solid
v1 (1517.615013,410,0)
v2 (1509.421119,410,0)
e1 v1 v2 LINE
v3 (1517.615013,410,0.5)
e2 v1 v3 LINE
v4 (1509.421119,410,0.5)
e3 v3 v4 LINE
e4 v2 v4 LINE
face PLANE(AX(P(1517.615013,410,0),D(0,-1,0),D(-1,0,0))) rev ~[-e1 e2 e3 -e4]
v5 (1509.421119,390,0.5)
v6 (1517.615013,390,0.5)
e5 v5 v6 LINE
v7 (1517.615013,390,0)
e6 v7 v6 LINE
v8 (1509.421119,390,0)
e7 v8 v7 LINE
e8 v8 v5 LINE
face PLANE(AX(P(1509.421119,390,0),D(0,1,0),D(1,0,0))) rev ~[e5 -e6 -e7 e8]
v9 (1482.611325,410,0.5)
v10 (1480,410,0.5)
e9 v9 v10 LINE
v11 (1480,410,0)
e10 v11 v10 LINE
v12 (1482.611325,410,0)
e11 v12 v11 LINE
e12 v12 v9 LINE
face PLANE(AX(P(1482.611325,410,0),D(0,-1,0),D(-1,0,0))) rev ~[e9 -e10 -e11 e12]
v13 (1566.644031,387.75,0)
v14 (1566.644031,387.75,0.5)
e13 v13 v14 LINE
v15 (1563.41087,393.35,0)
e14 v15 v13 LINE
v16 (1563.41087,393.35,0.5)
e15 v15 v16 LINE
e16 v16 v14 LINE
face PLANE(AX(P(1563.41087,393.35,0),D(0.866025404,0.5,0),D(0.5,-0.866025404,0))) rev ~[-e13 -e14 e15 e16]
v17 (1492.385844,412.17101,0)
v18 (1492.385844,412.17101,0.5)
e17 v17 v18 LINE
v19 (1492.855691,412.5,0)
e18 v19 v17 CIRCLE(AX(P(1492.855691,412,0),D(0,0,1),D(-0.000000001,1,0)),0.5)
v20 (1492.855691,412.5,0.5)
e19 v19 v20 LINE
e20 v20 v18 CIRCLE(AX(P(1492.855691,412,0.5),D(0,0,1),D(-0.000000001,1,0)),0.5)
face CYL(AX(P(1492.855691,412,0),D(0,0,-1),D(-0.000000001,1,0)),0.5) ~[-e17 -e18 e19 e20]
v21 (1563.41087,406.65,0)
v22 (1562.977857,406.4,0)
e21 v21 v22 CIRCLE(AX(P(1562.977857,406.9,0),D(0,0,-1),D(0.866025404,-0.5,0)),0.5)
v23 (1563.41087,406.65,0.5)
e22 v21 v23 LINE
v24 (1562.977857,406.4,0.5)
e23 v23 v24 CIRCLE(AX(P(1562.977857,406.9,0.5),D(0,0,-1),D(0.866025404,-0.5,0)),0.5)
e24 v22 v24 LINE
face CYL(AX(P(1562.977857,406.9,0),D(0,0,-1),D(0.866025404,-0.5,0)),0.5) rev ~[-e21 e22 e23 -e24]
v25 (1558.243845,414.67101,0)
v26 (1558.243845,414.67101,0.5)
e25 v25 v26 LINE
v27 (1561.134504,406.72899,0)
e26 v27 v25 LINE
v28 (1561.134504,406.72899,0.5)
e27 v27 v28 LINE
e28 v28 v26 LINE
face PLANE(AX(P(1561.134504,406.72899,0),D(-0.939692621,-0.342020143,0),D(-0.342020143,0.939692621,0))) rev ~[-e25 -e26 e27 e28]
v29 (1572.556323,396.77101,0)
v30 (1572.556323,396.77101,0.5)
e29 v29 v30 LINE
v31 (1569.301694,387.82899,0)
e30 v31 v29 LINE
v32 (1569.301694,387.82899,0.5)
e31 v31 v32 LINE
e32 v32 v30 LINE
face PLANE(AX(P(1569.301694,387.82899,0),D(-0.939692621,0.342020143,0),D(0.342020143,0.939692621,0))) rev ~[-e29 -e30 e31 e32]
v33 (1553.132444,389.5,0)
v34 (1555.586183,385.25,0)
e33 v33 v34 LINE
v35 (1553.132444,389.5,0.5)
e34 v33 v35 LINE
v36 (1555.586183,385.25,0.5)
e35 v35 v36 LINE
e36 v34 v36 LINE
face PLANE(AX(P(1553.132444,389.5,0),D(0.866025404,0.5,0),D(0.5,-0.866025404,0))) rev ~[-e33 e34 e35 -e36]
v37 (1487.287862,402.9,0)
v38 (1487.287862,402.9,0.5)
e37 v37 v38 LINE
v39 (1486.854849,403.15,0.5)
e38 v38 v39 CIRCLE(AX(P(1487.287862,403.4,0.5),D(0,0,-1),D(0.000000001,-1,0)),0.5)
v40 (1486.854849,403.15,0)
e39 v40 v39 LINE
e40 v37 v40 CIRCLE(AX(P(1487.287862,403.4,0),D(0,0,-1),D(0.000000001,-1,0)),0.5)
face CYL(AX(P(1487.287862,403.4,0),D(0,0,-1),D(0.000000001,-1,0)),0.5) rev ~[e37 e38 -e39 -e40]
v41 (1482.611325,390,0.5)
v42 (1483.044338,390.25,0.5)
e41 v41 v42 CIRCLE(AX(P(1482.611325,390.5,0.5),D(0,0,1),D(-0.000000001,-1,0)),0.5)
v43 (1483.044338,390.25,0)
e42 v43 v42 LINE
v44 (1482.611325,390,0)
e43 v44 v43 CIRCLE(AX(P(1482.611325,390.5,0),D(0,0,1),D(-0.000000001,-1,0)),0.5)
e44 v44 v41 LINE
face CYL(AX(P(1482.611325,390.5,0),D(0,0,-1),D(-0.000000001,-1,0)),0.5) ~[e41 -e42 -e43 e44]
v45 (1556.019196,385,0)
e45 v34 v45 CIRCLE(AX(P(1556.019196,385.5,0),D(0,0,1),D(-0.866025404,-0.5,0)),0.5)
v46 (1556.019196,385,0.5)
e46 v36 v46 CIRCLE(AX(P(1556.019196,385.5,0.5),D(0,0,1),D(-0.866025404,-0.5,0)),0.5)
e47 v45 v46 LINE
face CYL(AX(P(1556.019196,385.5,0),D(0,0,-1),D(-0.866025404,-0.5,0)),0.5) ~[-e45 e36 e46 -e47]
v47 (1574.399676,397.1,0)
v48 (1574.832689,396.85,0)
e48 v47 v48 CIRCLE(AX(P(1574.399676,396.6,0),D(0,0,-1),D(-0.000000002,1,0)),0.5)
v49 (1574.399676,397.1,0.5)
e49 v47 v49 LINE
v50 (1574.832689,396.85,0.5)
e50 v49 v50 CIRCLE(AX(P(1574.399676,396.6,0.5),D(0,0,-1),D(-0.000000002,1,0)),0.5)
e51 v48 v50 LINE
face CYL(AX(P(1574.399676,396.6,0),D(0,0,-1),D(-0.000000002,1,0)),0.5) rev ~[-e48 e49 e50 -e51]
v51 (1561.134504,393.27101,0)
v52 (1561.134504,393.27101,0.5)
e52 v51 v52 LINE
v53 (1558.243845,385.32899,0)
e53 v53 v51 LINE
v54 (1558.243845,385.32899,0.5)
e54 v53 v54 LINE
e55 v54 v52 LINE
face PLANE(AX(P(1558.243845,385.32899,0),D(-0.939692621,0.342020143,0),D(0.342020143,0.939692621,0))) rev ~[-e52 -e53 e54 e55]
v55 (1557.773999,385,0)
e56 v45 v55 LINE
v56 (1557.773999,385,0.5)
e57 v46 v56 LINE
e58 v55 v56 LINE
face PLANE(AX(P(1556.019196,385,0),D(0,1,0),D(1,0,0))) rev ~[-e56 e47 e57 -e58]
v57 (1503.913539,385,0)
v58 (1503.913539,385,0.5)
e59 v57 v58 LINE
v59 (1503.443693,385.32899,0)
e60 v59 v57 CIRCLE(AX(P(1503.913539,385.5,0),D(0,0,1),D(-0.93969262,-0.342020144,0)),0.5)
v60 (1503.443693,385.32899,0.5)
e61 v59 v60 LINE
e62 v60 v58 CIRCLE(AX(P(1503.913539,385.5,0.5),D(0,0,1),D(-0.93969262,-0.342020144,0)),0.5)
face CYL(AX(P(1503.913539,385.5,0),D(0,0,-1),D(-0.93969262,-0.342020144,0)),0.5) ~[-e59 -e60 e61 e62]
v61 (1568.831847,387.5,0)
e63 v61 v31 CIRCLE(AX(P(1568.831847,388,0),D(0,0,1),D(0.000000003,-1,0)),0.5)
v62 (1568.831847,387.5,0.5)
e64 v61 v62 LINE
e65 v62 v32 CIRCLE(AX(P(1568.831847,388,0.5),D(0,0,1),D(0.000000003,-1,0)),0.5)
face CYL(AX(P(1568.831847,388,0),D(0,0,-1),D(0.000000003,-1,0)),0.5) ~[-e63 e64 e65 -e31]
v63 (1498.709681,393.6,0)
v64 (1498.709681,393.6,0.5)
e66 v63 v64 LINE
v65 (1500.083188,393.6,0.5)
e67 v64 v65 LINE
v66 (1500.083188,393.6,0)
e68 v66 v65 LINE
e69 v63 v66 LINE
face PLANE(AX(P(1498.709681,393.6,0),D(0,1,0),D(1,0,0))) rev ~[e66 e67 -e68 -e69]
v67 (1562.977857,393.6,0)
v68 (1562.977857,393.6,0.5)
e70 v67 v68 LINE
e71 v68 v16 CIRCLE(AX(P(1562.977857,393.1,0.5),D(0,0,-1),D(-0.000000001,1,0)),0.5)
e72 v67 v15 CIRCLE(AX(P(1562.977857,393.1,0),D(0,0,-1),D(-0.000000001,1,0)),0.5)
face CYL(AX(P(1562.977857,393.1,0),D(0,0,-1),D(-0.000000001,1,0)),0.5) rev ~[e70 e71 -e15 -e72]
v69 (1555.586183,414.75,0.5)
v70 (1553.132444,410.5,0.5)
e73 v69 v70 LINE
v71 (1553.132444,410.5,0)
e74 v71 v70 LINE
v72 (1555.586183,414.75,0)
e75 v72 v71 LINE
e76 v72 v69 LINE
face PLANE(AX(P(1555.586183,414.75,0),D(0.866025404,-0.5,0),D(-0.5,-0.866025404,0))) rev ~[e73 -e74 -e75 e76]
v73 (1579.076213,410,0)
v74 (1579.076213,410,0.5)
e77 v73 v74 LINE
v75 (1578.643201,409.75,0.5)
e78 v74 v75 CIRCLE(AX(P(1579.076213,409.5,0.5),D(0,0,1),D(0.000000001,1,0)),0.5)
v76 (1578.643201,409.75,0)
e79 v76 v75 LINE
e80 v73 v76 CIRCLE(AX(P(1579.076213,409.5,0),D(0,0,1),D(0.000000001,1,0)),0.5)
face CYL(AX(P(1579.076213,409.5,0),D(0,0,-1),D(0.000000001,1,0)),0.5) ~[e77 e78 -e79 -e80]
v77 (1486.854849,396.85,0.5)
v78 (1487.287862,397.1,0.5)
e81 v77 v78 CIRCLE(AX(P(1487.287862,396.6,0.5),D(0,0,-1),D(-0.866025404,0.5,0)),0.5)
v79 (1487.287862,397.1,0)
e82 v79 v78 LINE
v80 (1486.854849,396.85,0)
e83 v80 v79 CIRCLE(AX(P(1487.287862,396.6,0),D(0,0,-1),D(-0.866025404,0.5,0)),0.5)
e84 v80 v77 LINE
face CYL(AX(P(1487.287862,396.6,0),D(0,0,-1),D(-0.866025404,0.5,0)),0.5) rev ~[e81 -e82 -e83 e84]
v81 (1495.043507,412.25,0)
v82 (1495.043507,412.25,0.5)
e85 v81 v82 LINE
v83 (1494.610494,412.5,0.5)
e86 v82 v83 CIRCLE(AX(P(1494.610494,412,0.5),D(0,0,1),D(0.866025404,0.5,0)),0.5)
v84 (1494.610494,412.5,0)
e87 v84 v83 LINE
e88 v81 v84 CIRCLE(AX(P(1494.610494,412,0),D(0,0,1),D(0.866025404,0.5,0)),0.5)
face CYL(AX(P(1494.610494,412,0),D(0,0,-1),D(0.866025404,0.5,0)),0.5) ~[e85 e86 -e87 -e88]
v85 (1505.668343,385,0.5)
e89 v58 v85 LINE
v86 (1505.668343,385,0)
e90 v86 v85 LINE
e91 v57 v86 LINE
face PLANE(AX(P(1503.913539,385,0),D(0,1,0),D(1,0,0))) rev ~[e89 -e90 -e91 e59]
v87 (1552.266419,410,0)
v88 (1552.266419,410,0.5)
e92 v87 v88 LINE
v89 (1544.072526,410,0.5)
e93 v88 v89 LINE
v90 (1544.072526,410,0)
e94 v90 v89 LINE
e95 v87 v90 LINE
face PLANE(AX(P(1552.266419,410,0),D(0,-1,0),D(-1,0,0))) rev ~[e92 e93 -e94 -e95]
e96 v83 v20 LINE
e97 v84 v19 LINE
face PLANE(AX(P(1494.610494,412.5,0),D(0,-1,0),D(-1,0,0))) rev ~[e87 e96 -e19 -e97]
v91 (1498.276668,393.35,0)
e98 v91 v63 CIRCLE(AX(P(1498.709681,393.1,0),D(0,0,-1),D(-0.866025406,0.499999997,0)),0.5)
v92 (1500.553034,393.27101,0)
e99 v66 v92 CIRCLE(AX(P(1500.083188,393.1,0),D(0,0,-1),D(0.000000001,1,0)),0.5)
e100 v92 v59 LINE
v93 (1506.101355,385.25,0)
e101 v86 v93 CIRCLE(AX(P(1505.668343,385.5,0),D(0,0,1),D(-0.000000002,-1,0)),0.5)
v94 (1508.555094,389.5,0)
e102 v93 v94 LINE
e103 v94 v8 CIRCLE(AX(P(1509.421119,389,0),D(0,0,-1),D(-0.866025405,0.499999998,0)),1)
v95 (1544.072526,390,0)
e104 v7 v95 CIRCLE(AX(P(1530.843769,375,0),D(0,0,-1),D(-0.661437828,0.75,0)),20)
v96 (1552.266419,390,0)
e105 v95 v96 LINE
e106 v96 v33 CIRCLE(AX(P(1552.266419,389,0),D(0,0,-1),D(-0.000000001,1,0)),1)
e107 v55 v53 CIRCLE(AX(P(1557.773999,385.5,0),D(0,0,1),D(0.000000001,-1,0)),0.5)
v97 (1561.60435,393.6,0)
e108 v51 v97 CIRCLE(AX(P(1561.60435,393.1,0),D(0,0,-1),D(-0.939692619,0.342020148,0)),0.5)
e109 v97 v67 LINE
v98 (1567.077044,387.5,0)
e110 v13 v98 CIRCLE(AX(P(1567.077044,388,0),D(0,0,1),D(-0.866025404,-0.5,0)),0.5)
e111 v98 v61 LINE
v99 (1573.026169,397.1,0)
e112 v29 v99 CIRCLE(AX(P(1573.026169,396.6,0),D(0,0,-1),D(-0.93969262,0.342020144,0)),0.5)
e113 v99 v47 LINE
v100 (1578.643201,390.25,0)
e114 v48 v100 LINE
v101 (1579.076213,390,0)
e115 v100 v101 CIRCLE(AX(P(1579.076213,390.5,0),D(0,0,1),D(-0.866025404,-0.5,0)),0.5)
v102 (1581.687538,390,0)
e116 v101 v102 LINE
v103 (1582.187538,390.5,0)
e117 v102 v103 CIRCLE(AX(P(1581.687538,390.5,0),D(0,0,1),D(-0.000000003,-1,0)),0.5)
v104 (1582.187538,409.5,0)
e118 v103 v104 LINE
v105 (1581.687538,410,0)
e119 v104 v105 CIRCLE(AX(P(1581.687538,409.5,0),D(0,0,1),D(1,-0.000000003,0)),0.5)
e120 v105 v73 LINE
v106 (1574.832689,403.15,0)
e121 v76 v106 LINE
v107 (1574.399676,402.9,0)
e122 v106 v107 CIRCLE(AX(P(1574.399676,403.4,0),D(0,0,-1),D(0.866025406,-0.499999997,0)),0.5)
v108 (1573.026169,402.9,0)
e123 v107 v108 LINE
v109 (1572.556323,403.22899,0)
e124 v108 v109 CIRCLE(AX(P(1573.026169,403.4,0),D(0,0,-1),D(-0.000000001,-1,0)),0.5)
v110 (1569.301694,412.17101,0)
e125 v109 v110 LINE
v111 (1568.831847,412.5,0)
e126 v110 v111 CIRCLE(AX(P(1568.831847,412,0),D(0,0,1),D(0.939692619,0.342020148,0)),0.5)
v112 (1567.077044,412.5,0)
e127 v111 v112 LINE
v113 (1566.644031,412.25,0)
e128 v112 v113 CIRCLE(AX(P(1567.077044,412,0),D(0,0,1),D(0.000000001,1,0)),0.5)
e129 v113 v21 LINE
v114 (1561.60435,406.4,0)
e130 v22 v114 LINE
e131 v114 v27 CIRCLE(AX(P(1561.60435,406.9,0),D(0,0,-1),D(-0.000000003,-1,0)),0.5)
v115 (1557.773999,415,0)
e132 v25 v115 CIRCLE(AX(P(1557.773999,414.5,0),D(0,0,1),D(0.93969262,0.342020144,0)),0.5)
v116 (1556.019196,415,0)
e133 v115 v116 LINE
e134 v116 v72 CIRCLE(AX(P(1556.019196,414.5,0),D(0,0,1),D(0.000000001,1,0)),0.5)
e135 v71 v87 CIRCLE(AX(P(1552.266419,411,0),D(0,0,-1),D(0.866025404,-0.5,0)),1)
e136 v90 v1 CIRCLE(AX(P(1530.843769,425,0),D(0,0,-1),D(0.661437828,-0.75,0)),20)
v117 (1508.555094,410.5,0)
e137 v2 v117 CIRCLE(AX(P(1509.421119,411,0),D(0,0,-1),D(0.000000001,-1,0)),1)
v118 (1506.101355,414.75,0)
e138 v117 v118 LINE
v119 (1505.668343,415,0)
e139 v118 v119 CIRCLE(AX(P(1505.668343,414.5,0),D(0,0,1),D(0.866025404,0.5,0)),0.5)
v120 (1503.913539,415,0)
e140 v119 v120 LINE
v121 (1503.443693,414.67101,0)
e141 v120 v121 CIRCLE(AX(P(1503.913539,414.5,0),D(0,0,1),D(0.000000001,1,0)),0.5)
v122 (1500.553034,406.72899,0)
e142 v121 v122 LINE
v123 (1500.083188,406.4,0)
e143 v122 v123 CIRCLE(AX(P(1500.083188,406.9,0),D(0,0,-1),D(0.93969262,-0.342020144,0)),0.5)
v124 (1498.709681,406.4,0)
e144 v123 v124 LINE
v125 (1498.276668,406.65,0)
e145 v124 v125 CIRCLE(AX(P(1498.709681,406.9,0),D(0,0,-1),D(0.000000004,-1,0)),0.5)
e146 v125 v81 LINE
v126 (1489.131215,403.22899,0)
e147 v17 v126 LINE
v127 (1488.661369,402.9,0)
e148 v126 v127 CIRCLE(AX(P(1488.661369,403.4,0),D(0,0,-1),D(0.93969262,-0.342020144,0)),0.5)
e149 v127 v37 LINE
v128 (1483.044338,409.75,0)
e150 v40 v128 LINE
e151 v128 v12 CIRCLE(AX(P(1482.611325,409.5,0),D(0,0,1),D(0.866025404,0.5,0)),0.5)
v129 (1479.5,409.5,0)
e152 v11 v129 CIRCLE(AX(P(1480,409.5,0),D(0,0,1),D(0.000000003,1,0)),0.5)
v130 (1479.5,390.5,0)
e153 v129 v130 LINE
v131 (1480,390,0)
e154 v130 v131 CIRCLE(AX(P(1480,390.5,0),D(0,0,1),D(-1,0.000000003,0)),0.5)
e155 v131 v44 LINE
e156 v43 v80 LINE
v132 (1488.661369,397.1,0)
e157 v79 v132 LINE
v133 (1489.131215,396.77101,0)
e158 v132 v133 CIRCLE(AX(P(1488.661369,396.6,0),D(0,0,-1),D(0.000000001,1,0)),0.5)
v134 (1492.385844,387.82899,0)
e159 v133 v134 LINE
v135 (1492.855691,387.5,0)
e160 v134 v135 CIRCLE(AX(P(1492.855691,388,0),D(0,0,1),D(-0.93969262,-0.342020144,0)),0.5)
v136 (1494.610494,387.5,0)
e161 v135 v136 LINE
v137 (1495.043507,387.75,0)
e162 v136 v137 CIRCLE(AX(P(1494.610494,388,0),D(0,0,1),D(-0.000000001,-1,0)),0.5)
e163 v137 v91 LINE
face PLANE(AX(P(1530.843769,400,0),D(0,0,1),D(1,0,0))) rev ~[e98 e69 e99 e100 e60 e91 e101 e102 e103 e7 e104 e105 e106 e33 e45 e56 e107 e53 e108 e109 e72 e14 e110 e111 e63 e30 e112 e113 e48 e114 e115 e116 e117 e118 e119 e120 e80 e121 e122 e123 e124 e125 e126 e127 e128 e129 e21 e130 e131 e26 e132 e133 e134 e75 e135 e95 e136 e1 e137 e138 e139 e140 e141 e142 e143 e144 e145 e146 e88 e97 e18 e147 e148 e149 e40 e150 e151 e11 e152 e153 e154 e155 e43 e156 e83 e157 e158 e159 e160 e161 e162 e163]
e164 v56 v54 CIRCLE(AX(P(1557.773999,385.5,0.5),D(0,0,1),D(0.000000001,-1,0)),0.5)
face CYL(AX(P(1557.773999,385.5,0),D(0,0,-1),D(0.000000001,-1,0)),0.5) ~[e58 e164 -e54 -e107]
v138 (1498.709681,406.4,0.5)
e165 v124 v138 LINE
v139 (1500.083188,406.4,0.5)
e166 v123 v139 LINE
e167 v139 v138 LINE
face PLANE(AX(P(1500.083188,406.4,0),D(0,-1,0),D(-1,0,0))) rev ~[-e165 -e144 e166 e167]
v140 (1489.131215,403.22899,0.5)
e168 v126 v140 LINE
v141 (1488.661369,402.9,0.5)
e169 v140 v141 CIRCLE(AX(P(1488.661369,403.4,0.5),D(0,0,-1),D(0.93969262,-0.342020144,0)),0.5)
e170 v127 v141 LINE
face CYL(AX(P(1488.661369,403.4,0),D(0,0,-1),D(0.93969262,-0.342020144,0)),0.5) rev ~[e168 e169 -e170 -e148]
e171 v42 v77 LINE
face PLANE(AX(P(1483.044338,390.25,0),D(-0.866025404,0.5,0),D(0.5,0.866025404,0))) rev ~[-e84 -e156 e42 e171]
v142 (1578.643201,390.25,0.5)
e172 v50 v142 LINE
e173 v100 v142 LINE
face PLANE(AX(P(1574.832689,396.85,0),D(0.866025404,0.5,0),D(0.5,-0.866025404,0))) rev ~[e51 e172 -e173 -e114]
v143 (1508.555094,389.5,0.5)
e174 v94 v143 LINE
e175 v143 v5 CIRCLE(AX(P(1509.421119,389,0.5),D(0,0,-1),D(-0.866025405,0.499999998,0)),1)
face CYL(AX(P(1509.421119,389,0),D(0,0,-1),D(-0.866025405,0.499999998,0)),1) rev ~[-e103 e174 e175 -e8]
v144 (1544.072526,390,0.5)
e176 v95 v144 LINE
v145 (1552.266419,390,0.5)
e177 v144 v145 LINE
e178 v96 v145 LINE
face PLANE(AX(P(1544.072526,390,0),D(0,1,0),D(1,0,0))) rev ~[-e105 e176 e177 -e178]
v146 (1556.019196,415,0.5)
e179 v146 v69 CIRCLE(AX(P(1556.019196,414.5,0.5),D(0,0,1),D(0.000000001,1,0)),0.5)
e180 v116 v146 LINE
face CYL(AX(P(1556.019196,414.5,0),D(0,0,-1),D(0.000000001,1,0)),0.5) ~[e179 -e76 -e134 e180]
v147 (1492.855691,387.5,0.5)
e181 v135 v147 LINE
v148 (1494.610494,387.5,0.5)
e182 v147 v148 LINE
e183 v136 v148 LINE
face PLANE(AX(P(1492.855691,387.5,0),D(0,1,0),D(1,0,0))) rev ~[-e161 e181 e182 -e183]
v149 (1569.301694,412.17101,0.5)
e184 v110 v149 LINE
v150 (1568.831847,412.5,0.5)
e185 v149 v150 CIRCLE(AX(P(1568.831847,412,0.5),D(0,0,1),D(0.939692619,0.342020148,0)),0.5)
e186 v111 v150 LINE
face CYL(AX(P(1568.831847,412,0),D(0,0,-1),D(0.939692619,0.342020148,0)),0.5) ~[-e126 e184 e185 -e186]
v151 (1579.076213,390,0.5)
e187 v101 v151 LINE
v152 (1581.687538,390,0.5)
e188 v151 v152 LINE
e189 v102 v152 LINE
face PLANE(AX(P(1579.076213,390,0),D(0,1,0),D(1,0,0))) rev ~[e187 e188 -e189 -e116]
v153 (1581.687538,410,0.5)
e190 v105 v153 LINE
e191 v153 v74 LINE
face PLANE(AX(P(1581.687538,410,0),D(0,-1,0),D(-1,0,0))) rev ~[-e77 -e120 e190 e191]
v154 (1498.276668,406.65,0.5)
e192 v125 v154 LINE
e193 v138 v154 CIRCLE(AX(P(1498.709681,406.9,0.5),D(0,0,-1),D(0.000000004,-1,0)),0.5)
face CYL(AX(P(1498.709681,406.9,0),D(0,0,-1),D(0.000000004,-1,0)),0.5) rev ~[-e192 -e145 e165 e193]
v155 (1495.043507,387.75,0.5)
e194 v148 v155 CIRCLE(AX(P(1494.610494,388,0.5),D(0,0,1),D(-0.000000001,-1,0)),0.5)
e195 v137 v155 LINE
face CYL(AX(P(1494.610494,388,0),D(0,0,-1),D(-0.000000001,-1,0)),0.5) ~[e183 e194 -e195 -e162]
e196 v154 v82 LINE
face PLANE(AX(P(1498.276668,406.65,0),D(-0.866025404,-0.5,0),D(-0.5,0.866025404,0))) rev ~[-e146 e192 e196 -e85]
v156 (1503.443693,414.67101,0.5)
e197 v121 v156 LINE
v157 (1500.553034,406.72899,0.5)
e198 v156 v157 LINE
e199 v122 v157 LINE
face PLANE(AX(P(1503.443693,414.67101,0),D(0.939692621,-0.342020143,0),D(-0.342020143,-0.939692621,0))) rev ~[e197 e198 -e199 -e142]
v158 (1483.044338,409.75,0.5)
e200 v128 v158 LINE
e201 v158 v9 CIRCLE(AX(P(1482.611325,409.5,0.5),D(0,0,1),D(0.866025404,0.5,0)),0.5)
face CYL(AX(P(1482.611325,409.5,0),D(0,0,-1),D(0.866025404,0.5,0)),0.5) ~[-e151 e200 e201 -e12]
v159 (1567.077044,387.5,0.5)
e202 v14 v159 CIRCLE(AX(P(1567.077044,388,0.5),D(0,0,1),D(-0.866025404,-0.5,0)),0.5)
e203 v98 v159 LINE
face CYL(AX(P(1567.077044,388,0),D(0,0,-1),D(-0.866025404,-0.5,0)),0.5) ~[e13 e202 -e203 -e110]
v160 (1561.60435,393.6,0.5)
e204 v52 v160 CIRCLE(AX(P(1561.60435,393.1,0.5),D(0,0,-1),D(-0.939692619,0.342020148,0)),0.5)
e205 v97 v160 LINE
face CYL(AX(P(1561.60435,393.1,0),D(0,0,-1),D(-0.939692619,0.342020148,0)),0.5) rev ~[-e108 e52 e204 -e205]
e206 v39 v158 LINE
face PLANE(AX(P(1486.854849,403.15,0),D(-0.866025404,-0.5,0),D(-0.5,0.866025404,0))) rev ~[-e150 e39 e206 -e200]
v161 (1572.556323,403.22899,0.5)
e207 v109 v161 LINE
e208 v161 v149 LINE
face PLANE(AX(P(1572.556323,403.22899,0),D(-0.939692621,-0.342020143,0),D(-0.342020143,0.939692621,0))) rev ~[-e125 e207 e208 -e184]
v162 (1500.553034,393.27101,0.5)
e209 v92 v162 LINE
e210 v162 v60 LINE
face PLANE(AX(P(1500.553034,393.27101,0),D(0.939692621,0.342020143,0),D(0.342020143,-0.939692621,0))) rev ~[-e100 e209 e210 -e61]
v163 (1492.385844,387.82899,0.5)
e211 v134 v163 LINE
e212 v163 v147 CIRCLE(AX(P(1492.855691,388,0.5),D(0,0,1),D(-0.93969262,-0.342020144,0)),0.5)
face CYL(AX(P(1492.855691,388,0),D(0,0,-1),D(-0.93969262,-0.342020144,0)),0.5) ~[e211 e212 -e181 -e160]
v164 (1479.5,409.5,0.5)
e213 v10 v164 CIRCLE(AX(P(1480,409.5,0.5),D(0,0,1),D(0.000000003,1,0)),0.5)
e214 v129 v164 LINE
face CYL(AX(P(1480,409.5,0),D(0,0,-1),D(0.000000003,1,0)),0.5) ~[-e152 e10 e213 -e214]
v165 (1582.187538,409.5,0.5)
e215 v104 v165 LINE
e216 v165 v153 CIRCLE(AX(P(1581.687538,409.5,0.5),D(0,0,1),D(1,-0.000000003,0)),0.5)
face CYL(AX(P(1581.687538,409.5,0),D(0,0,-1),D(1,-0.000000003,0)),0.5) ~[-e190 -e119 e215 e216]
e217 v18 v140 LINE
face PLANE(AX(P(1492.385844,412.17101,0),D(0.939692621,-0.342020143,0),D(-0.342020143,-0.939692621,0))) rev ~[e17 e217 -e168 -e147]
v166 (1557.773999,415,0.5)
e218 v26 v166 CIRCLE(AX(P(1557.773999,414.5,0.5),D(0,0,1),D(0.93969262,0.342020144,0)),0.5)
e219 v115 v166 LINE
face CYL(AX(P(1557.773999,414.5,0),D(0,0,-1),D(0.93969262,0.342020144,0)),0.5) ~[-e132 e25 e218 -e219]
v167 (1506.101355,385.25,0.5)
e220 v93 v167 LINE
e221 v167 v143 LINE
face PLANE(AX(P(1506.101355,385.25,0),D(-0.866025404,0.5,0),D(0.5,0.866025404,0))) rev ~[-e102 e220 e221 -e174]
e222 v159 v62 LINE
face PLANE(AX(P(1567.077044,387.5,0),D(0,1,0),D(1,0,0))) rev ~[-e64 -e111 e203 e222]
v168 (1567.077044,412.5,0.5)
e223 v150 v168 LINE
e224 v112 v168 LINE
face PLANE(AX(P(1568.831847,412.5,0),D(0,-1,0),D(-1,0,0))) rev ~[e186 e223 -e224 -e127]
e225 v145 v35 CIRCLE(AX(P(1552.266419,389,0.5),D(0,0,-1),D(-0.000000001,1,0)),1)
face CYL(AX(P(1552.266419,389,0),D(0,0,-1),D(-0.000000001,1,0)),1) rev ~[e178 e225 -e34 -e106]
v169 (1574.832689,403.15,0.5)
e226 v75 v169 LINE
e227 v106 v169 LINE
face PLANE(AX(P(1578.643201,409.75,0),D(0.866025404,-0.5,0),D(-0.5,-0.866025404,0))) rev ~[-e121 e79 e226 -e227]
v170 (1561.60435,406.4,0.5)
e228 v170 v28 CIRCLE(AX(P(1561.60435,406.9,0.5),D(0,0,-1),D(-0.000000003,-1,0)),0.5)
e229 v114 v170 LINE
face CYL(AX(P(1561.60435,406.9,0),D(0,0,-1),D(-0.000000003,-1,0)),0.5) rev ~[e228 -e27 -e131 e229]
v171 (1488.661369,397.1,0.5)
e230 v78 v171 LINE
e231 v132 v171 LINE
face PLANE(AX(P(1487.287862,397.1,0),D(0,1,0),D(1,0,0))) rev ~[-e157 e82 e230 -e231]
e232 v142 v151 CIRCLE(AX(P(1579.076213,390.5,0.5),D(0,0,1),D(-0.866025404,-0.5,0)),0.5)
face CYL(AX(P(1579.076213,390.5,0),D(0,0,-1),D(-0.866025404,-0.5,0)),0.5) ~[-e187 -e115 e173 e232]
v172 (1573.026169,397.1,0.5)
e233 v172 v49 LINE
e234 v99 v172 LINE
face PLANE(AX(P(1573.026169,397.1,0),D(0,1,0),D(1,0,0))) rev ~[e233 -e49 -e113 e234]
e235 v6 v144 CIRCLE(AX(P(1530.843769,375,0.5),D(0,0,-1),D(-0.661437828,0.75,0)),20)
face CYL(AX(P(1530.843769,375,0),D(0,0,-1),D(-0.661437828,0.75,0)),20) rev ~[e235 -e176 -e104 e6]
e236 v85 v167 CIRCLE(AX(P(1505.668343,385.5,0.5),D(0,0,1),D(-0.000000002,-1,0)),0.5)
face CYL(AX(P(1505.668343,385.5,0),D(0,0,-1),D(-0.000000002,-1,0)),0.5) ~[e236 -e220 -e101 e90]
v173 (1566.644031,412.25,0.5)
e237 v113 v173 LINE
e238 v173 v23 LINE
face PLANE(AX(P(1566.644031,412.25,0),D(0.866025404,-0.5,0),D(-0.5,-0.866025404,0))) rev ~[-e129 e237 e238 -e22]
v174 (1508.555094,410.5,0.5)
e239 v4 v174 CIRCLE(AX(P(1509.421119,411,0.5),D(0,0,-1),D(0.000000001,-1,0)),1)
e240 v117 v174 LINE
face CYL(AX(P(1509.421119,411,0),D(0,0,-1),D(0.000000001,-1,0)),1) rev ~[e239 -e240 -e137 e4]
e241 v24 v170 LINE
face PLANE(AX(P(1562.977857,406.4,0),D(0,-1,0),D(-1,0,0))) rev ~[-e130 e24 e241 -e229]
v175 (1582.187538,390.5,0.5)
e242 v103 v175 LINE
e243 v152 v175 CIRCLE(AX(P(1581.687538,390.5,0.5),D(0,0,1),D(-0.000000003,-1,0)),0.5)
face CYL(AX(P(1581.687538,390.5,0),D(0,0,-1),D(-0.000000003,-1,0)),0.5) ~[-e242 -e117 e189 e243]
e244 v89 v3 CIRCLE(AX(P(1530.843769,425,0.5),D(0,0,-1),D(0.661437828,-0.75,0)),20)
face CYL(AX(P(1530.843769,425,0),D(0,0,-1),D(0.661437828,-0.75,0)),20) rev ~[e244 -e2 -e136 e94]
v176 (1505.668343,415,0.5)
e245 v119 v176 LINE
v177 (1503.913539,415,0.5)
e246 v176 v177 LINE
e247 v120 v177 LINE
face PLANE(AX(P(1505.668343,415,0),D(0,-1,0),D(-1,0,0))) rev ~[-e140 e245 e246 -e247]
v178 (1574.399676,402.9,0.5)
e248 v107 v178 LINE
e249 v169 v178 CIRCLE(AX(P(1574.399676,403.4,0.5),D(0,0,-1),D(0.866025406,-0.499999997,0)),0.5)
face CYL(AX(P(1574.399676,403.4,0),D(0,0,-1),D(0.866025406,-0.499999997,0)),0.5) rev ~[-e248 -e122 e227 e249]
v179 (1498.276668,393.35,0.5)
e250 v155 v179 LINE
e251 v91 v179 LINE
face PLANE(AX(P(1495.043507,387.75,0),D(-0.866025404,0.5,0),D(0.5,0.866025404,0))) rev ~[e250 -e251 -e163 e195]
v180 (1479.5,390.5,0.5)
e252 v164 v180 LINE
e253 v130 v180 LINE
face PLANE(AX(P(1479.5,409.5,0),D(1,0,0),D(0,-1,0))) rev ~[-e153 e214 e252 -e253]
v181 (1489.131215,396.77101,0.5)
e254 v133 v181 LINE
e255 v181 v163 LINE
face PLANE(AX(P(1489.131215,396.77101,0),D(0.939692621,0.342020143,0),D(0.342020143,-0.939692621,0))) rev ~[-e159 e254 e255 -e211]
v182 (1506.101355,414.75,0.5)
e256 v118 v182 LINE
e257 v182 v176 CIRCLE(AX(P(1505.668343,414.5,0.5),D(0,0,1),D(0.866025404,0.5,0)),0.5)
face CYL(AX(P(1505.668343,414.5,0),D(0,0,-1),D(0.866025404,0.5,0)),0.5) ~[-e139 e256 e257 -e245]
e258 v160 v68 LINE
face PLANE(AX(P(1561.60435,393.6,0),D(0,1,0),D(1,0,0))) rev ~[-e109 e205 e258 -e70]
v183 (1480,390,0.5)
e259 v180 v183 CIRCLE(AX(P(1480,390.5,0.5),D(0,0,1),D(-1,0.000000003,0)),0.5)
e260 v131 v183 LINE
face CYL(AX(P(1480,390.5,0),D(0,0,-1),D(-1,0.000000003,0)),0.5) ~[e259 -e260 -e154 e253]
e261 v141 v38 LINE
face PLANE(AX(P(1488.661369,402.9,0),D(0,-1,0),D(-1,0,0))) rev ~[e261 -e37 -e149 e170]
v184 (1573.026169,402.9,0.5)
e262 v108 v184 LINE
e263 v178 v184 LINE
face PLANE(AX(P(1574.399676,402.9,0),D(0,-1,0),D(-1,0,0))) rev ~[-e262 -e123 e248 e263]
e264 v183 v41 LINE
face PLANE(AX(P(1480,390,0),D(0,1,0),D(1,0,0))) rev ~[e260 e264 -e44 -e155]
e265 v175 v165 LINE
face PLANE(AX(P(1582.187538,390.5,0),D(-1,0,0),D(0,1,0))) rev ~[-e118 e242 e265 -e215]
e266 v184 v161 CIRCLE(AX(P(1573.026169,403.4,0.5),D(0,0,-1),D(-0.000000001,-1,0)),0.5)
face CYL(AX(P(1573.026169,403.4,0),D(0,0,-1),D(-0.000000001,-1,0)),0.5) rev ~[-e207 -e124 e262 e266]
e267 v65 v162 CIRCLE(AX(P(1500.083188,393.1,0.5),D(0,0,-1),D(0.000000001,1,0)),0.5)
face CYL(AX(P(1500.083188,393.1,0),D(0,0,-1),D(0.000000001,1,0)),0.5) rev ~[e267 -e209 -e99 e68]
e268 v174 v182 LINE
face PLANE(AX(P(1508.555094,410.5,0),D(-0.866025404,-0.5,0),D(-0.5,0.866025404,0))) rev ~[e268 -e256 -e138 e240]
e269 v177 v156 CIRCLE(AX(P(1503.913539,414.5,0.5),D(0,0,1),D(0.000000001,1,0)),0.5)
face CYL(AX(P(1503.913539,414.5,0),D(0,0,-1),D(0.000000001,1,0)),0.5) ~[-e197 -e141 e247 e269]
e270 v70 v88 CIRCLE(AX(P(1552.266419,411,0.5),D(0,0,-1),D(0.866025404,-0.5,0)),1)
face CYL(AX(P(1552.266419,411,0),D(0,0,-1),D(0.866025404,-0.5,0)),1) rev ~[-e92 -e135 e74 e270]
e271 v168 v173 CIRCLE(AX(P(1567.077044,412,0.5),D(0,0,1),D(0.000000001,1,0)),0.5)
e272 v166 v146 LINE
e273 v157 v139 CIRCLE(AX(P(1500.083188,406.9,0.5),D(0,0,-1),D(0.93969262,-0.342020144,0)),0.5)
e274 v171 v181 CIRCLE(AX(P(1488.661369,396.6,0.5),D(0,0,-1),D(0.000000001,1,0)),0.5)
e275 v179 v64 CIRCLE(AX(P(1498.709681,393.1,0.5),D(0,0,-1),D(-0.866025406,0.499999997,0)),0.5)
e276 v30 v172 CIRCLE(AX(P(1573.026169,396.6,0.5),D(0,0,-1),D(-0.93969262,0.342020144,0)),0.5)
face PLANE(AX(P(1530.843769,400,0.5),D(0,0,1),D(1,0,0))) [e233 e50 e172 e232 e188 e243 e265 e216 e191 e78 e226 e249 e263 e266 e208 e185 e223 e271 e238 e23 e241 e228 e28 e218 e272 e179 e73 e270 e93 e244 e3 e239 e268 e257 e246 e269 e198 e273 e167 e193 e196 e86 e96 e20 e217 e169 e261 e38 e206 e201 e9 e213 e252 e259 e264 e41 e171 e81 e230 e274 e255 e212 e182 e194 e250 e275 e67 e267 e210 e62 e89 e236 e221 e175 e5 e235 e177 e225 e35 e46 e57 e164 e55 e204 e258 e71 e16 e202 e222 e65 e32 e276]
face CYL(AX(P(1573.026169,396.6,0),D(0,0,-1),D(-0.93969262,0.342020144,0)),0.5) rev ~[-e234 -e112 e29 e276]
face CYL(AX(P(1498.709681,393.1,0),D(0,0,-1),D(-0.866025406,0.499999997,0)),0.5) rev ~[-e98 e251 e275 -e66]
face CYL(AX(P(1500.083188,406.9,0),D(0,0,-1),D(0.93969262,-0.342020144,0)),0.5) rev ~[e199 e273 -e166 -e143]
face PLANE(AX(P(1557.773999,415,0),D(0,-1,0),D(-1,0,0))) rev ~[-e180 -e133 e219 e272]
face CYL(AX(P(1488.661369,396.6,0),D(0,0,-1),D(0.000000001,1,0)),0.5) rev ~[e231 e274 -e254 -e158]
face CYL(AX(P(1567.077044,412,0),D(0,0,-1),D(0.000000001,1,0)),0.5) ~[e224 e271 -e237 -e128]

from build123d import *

# Parameters (mm, degrees)
BOSS_EXTRUDE1_DEPTH = 0.5


with BuildPart() as part:
    # Model → Boss-Extrude1 (new body)
    with BuildSketch(Plane.XY):
        with BuildLine():
            Line((1561.604350415, 393.6), (1562.977857238, 393.6))
            ThreePointArc((1562.977857238, 393.6), (1563.227857238, 393.533012702), (1563.41086994, 393.35))
            Line((1563.41086994, 393.35), (1566.644031447, 387.75))
            ThreePointArc((1566.644031447, 387.75), (1566.827044149, 387.566987298), (1567.077044149, 387.5))
            Line((1567.077044149, 387.5), (1568.831847468, 387.5))
            ThreePointArc((1568.831847468, 387.5), (1569.118635686, 387.590423978), (1569.301693779, 387.828989928))
            Line((1569.301693779, 387.828989928), (1572.556322945, 396.771010072))
            ThreePointArc((1572.556322945, 396.771010072), (1572.739381037, 397.009576022), (1573.026169255, 397.1))
            Line((1573.026169255, 397.1), (1574.399676079, 397.1))
            ThreePointArc((1574.399676079, 397.1), (1574.649676079, 397.033012702), (1574.83268878, 396.85))
            Line((1574.83268878, 396.85), (1578.643200557, 390.25))
            ThreePointArc((1578.643200557, 390.25), (1578.826213259, 390.066987298), (1579.076213259, 390))
            Line((1579.076213259, 390), (1581.687538124, 390))
            ThreePointArc((1581.687538124, 390), (1582.041091515, 390.146446609), (1582.187538124, 390.5))
            Line((1582.187538124, 390.5), (1582.187538124, 409.5))
            ThreePointArc((1582.187538124, 409.5), (1582.041091515, 409.853553391), (1581.687538124, 410))
            Line((1581.687538124, 410), (1579.076213259, 410))
            ThreePointArc((1579.076213259, 410), (1578.826213259, 409.933012702), (1578.643200557, 409.75))
            Line((1578.643200557, 409.75), (1574.83268878, 403.15))
            ThreePointArc((1574.83268878, 403.15), (1574.649676079, 402.966987298), (1574.399676079, 402.9))
            Line((1574.399676079, 402.9), (1573.026169255, 402.9))
            ThreePointArc((1573.026169255, 402.9), (1572.739381037, 402.990423978), (1572.556322945, 403.228989928))
            Line((1572.556322945, 403.228989928), (1569.301693779, 412.171010072))
            ThreePointArc((1569.301693779, 412.171010072), (1569.118635686, 412.409576022), (1568.831847468, 412.5))
            Line((1568.831847468, 412.5), (1567.077044149, 412.5))
            ThreePointArc((1567.077044149, 412.5), (1566.827044149, 412.433012702), (1566.644031447, 412.25))
            Line((1566.644031447, 412.25), (1563.41086994, 406.65))
            ThreePointArc((1563.41086994, 406.65), (1563.227857238, 406.466987298), (1562.977857238, 406.4))
            Line((1562.977857238, 406.4), (1561.604350415, 406.4))
            ThreePointArc((1561.604350415, 406.4), (1561.317562197, 406.490423978), (1561.134504104, 406.728989928))
            Line((1561.134504104, 406.728989928), (1558.243845172, 414.671010072))
            ThreePointArc((1558.243845172, 414.671010072), (1558.06078708, 414.909576022), (1557.773998862, 415))
            Line((1557.773998862, 415), (1556.019195543, 415))
            ThreePointArc((1556.019195543, 415), (1555.769195543, 414.933012702), (1555.586182841, 414.75))
            Line((1555.586182841, 414.75), (1553.132444197, 410.5))
            ThreePointArc((1553.132444197, 410.5), (1552.766418793, 410.133974596), (1552.266418793, 410))
            Line((1552.266418793, 410), (1544.072525617, 410))
            ThreePointArc((1544.072525617, 410), (1530.843769062, 405), (1517.615012507, 410))
            Line((1517.615012507, 410), (1509.421119331, 410))
            ThreePointArc((1509.421119331, 410), (1508.921119331, 410.133974596), (1508.555093928, 410.5))
            Line((1508.555093928, 410.5), (1506.101355284, 414.75))
            ThreePointArc((1506.101355284, 414.75), (1505.918342582, 414.933012702), (1505.668342582, 415))
            Line((1505.668342582, 415), (1503.913539263, 415))
            ThreePointArc((1503.913539263, 415), (1503.626751044, 414.909576022), (1503.443692952, 414.671010072))
            Line((1503.443692952, 414.671010072), (1500.55303402, 406.728989928))
            ThreePointArc((1500.55303402, 406.728989928), (1500.369975928, 406.490423978), (1500.08318771, 406.4))
            Line((1500.08318771, 406.4), (1498.709680887, 406.4))
            ThreePointArc((1498.709680887, 406.4), (1498.459680886, 406.466987298), (1498.276668185, 406.65))
            Line((1498.276668185, 406.65), (1495.043506677, 412.25))
            ThreePointArc((1495.043506677, 412.25), (1494.860493975, 412.433012702), (1494.610493975, 412.5))
            Line((1494.610493975, 412.5), (1492.855690656, 412.5))
            ThreePointArc((1492.855690656, 412.5), (1492.568902438, 412.409576022), (1492.385844346, 412.171010072))
            Line((1492.385844346, 412.171010072), (1489.131215179, 403.228989928))
            ThreePointArc((1489.131215179, 403.228989928), (1488.948157087, 402.990423978), (1488.661368869, 402.9))
            Line((1488.661368869, 402.9), (1487.287862046, 402.9))
            ThreePointArc((1487.287862046, 402.9), (1487.037862046, 402.966987298), (1486.854849344, 403.15))
            Line((1486.854849344, 403.15), (1483.044337567, 409.75))
            ThreePointArc((1483.044337567, 409.75), (1482.861324865, 409.933012702), (1482.611324865, 410))
            Line((1482.611324865, 410), (1480, 410))
            ThreePointArc((1480, 410), (1479.646446609, 409.853553391), (1479.5, 409.5))
            Line((1479.5, 409.5), (1479.5, 390.5))
            ThreePointArc((1479.5, 390.5), (1479.646446609, 390.146446609), (1480, 390))
            Line((1480, 390), (1482.611324865, 390))
            ThreePointArc((1482.611324865, 390), (1482.861324865, 390.066987298), (1483.044337567, 390.25))
            Line((1483.044337567, 390.25), (1486.854849344, 396.85))
            ThreePointArc((1486.854849344, 396.85), (1487.037862046, 397.033012702), (1487.287862046, 397.1))
            Line((1487.287862046, 397.1), (1488.661368869, 397.1))
            ThreePointArc((1488.661368869, 397.1), (1488.948157087, 397.009576022), (1489.131215179, 396.771010072))
            Line((1489.131215179, 396.771010072), (1492.385844346, 387.828989928))
            ThreePointArc((1492.385844346, 387.828989928), (1492.568902438, 387.590423978), (1492.855690656, 387.5))
            Line((1492.855690656, 387.5), (1494.610493975, 387.5))
            ThreePointArc((1494.610493975, 387.5), (1494.860493975, 387.566987298), (1495.043506677, 387.75))
            Line((1495.043506677, 387.75), (1498.276668185, 393.35))
            ThreePointArc((1498.276668185, 393.35), (1498.459680886, 393.533012702), (1498.709680887, 393.6))
            Line((1498.709680887, 393.6), (1500.08318771, 393.6))
            ThreePointArc((1500.08318771, 393.6), (1500.369975928, 393.509576022), (1500.55303402, 393.271010072))
            Line((1500.55303402, 393.271010072), (1503.443692952, 385.328989928))
            ThreePointArc((1503.443692952, 385.328989928), (1503.626751044, 385.090423978), (1503.913539263, 385))
            Line((1503.913539263, 385), (1505.668342582, 385))
            ThreePointArc((1505.668342582, 385), (1505.918342582, 385.066987298), (1506.101355283, 385.25))
            Line((1506.101355283, 385.25), (1508.555093928, 389.5))
            ThreePointArc((1508.555093928, 389.5), (1508.921119331, 389.866025404), (1509.421119331, 390))
            Line((1509.421119331, 390), (1517.615012507, 390))
            ThreePointArc((1517.615012507, 390), (1530.843769062, 395), (1544.072525618, 390))
            Line((1544.072525618, 390), (1552.266418793, 390))
            ThreePointArc((1552.266418793, 390), (1552.766418793, 389.866025404), (1553.132444197, 389.5))
            Line((1553.132444197, 389.5), (1555.586182841, 385.25))
            ThreePointArc((1555.586182841, 385.25), (1555.769195543, 385.066987298), (1556.019195543, 385))
            Line((1556.019195543, 385), (1557.773998862, 385))
            ThreePointArc((1557.773998862, 385), (1558.06078708, 385.090423978), (1558.243845172, 385.328989928))
            Line((1558.243845172, 385.328989928), (1561.134504104, 393.271010072))
            ThreePointArc((1561.134504104, 393.271010072), (1561.317562197, 393.509576022), (1561.604350415, 393.6))
        make_face()
    extrude(amount=BOSS_EXTRUDE1_DEPTH)


solid = part.part
